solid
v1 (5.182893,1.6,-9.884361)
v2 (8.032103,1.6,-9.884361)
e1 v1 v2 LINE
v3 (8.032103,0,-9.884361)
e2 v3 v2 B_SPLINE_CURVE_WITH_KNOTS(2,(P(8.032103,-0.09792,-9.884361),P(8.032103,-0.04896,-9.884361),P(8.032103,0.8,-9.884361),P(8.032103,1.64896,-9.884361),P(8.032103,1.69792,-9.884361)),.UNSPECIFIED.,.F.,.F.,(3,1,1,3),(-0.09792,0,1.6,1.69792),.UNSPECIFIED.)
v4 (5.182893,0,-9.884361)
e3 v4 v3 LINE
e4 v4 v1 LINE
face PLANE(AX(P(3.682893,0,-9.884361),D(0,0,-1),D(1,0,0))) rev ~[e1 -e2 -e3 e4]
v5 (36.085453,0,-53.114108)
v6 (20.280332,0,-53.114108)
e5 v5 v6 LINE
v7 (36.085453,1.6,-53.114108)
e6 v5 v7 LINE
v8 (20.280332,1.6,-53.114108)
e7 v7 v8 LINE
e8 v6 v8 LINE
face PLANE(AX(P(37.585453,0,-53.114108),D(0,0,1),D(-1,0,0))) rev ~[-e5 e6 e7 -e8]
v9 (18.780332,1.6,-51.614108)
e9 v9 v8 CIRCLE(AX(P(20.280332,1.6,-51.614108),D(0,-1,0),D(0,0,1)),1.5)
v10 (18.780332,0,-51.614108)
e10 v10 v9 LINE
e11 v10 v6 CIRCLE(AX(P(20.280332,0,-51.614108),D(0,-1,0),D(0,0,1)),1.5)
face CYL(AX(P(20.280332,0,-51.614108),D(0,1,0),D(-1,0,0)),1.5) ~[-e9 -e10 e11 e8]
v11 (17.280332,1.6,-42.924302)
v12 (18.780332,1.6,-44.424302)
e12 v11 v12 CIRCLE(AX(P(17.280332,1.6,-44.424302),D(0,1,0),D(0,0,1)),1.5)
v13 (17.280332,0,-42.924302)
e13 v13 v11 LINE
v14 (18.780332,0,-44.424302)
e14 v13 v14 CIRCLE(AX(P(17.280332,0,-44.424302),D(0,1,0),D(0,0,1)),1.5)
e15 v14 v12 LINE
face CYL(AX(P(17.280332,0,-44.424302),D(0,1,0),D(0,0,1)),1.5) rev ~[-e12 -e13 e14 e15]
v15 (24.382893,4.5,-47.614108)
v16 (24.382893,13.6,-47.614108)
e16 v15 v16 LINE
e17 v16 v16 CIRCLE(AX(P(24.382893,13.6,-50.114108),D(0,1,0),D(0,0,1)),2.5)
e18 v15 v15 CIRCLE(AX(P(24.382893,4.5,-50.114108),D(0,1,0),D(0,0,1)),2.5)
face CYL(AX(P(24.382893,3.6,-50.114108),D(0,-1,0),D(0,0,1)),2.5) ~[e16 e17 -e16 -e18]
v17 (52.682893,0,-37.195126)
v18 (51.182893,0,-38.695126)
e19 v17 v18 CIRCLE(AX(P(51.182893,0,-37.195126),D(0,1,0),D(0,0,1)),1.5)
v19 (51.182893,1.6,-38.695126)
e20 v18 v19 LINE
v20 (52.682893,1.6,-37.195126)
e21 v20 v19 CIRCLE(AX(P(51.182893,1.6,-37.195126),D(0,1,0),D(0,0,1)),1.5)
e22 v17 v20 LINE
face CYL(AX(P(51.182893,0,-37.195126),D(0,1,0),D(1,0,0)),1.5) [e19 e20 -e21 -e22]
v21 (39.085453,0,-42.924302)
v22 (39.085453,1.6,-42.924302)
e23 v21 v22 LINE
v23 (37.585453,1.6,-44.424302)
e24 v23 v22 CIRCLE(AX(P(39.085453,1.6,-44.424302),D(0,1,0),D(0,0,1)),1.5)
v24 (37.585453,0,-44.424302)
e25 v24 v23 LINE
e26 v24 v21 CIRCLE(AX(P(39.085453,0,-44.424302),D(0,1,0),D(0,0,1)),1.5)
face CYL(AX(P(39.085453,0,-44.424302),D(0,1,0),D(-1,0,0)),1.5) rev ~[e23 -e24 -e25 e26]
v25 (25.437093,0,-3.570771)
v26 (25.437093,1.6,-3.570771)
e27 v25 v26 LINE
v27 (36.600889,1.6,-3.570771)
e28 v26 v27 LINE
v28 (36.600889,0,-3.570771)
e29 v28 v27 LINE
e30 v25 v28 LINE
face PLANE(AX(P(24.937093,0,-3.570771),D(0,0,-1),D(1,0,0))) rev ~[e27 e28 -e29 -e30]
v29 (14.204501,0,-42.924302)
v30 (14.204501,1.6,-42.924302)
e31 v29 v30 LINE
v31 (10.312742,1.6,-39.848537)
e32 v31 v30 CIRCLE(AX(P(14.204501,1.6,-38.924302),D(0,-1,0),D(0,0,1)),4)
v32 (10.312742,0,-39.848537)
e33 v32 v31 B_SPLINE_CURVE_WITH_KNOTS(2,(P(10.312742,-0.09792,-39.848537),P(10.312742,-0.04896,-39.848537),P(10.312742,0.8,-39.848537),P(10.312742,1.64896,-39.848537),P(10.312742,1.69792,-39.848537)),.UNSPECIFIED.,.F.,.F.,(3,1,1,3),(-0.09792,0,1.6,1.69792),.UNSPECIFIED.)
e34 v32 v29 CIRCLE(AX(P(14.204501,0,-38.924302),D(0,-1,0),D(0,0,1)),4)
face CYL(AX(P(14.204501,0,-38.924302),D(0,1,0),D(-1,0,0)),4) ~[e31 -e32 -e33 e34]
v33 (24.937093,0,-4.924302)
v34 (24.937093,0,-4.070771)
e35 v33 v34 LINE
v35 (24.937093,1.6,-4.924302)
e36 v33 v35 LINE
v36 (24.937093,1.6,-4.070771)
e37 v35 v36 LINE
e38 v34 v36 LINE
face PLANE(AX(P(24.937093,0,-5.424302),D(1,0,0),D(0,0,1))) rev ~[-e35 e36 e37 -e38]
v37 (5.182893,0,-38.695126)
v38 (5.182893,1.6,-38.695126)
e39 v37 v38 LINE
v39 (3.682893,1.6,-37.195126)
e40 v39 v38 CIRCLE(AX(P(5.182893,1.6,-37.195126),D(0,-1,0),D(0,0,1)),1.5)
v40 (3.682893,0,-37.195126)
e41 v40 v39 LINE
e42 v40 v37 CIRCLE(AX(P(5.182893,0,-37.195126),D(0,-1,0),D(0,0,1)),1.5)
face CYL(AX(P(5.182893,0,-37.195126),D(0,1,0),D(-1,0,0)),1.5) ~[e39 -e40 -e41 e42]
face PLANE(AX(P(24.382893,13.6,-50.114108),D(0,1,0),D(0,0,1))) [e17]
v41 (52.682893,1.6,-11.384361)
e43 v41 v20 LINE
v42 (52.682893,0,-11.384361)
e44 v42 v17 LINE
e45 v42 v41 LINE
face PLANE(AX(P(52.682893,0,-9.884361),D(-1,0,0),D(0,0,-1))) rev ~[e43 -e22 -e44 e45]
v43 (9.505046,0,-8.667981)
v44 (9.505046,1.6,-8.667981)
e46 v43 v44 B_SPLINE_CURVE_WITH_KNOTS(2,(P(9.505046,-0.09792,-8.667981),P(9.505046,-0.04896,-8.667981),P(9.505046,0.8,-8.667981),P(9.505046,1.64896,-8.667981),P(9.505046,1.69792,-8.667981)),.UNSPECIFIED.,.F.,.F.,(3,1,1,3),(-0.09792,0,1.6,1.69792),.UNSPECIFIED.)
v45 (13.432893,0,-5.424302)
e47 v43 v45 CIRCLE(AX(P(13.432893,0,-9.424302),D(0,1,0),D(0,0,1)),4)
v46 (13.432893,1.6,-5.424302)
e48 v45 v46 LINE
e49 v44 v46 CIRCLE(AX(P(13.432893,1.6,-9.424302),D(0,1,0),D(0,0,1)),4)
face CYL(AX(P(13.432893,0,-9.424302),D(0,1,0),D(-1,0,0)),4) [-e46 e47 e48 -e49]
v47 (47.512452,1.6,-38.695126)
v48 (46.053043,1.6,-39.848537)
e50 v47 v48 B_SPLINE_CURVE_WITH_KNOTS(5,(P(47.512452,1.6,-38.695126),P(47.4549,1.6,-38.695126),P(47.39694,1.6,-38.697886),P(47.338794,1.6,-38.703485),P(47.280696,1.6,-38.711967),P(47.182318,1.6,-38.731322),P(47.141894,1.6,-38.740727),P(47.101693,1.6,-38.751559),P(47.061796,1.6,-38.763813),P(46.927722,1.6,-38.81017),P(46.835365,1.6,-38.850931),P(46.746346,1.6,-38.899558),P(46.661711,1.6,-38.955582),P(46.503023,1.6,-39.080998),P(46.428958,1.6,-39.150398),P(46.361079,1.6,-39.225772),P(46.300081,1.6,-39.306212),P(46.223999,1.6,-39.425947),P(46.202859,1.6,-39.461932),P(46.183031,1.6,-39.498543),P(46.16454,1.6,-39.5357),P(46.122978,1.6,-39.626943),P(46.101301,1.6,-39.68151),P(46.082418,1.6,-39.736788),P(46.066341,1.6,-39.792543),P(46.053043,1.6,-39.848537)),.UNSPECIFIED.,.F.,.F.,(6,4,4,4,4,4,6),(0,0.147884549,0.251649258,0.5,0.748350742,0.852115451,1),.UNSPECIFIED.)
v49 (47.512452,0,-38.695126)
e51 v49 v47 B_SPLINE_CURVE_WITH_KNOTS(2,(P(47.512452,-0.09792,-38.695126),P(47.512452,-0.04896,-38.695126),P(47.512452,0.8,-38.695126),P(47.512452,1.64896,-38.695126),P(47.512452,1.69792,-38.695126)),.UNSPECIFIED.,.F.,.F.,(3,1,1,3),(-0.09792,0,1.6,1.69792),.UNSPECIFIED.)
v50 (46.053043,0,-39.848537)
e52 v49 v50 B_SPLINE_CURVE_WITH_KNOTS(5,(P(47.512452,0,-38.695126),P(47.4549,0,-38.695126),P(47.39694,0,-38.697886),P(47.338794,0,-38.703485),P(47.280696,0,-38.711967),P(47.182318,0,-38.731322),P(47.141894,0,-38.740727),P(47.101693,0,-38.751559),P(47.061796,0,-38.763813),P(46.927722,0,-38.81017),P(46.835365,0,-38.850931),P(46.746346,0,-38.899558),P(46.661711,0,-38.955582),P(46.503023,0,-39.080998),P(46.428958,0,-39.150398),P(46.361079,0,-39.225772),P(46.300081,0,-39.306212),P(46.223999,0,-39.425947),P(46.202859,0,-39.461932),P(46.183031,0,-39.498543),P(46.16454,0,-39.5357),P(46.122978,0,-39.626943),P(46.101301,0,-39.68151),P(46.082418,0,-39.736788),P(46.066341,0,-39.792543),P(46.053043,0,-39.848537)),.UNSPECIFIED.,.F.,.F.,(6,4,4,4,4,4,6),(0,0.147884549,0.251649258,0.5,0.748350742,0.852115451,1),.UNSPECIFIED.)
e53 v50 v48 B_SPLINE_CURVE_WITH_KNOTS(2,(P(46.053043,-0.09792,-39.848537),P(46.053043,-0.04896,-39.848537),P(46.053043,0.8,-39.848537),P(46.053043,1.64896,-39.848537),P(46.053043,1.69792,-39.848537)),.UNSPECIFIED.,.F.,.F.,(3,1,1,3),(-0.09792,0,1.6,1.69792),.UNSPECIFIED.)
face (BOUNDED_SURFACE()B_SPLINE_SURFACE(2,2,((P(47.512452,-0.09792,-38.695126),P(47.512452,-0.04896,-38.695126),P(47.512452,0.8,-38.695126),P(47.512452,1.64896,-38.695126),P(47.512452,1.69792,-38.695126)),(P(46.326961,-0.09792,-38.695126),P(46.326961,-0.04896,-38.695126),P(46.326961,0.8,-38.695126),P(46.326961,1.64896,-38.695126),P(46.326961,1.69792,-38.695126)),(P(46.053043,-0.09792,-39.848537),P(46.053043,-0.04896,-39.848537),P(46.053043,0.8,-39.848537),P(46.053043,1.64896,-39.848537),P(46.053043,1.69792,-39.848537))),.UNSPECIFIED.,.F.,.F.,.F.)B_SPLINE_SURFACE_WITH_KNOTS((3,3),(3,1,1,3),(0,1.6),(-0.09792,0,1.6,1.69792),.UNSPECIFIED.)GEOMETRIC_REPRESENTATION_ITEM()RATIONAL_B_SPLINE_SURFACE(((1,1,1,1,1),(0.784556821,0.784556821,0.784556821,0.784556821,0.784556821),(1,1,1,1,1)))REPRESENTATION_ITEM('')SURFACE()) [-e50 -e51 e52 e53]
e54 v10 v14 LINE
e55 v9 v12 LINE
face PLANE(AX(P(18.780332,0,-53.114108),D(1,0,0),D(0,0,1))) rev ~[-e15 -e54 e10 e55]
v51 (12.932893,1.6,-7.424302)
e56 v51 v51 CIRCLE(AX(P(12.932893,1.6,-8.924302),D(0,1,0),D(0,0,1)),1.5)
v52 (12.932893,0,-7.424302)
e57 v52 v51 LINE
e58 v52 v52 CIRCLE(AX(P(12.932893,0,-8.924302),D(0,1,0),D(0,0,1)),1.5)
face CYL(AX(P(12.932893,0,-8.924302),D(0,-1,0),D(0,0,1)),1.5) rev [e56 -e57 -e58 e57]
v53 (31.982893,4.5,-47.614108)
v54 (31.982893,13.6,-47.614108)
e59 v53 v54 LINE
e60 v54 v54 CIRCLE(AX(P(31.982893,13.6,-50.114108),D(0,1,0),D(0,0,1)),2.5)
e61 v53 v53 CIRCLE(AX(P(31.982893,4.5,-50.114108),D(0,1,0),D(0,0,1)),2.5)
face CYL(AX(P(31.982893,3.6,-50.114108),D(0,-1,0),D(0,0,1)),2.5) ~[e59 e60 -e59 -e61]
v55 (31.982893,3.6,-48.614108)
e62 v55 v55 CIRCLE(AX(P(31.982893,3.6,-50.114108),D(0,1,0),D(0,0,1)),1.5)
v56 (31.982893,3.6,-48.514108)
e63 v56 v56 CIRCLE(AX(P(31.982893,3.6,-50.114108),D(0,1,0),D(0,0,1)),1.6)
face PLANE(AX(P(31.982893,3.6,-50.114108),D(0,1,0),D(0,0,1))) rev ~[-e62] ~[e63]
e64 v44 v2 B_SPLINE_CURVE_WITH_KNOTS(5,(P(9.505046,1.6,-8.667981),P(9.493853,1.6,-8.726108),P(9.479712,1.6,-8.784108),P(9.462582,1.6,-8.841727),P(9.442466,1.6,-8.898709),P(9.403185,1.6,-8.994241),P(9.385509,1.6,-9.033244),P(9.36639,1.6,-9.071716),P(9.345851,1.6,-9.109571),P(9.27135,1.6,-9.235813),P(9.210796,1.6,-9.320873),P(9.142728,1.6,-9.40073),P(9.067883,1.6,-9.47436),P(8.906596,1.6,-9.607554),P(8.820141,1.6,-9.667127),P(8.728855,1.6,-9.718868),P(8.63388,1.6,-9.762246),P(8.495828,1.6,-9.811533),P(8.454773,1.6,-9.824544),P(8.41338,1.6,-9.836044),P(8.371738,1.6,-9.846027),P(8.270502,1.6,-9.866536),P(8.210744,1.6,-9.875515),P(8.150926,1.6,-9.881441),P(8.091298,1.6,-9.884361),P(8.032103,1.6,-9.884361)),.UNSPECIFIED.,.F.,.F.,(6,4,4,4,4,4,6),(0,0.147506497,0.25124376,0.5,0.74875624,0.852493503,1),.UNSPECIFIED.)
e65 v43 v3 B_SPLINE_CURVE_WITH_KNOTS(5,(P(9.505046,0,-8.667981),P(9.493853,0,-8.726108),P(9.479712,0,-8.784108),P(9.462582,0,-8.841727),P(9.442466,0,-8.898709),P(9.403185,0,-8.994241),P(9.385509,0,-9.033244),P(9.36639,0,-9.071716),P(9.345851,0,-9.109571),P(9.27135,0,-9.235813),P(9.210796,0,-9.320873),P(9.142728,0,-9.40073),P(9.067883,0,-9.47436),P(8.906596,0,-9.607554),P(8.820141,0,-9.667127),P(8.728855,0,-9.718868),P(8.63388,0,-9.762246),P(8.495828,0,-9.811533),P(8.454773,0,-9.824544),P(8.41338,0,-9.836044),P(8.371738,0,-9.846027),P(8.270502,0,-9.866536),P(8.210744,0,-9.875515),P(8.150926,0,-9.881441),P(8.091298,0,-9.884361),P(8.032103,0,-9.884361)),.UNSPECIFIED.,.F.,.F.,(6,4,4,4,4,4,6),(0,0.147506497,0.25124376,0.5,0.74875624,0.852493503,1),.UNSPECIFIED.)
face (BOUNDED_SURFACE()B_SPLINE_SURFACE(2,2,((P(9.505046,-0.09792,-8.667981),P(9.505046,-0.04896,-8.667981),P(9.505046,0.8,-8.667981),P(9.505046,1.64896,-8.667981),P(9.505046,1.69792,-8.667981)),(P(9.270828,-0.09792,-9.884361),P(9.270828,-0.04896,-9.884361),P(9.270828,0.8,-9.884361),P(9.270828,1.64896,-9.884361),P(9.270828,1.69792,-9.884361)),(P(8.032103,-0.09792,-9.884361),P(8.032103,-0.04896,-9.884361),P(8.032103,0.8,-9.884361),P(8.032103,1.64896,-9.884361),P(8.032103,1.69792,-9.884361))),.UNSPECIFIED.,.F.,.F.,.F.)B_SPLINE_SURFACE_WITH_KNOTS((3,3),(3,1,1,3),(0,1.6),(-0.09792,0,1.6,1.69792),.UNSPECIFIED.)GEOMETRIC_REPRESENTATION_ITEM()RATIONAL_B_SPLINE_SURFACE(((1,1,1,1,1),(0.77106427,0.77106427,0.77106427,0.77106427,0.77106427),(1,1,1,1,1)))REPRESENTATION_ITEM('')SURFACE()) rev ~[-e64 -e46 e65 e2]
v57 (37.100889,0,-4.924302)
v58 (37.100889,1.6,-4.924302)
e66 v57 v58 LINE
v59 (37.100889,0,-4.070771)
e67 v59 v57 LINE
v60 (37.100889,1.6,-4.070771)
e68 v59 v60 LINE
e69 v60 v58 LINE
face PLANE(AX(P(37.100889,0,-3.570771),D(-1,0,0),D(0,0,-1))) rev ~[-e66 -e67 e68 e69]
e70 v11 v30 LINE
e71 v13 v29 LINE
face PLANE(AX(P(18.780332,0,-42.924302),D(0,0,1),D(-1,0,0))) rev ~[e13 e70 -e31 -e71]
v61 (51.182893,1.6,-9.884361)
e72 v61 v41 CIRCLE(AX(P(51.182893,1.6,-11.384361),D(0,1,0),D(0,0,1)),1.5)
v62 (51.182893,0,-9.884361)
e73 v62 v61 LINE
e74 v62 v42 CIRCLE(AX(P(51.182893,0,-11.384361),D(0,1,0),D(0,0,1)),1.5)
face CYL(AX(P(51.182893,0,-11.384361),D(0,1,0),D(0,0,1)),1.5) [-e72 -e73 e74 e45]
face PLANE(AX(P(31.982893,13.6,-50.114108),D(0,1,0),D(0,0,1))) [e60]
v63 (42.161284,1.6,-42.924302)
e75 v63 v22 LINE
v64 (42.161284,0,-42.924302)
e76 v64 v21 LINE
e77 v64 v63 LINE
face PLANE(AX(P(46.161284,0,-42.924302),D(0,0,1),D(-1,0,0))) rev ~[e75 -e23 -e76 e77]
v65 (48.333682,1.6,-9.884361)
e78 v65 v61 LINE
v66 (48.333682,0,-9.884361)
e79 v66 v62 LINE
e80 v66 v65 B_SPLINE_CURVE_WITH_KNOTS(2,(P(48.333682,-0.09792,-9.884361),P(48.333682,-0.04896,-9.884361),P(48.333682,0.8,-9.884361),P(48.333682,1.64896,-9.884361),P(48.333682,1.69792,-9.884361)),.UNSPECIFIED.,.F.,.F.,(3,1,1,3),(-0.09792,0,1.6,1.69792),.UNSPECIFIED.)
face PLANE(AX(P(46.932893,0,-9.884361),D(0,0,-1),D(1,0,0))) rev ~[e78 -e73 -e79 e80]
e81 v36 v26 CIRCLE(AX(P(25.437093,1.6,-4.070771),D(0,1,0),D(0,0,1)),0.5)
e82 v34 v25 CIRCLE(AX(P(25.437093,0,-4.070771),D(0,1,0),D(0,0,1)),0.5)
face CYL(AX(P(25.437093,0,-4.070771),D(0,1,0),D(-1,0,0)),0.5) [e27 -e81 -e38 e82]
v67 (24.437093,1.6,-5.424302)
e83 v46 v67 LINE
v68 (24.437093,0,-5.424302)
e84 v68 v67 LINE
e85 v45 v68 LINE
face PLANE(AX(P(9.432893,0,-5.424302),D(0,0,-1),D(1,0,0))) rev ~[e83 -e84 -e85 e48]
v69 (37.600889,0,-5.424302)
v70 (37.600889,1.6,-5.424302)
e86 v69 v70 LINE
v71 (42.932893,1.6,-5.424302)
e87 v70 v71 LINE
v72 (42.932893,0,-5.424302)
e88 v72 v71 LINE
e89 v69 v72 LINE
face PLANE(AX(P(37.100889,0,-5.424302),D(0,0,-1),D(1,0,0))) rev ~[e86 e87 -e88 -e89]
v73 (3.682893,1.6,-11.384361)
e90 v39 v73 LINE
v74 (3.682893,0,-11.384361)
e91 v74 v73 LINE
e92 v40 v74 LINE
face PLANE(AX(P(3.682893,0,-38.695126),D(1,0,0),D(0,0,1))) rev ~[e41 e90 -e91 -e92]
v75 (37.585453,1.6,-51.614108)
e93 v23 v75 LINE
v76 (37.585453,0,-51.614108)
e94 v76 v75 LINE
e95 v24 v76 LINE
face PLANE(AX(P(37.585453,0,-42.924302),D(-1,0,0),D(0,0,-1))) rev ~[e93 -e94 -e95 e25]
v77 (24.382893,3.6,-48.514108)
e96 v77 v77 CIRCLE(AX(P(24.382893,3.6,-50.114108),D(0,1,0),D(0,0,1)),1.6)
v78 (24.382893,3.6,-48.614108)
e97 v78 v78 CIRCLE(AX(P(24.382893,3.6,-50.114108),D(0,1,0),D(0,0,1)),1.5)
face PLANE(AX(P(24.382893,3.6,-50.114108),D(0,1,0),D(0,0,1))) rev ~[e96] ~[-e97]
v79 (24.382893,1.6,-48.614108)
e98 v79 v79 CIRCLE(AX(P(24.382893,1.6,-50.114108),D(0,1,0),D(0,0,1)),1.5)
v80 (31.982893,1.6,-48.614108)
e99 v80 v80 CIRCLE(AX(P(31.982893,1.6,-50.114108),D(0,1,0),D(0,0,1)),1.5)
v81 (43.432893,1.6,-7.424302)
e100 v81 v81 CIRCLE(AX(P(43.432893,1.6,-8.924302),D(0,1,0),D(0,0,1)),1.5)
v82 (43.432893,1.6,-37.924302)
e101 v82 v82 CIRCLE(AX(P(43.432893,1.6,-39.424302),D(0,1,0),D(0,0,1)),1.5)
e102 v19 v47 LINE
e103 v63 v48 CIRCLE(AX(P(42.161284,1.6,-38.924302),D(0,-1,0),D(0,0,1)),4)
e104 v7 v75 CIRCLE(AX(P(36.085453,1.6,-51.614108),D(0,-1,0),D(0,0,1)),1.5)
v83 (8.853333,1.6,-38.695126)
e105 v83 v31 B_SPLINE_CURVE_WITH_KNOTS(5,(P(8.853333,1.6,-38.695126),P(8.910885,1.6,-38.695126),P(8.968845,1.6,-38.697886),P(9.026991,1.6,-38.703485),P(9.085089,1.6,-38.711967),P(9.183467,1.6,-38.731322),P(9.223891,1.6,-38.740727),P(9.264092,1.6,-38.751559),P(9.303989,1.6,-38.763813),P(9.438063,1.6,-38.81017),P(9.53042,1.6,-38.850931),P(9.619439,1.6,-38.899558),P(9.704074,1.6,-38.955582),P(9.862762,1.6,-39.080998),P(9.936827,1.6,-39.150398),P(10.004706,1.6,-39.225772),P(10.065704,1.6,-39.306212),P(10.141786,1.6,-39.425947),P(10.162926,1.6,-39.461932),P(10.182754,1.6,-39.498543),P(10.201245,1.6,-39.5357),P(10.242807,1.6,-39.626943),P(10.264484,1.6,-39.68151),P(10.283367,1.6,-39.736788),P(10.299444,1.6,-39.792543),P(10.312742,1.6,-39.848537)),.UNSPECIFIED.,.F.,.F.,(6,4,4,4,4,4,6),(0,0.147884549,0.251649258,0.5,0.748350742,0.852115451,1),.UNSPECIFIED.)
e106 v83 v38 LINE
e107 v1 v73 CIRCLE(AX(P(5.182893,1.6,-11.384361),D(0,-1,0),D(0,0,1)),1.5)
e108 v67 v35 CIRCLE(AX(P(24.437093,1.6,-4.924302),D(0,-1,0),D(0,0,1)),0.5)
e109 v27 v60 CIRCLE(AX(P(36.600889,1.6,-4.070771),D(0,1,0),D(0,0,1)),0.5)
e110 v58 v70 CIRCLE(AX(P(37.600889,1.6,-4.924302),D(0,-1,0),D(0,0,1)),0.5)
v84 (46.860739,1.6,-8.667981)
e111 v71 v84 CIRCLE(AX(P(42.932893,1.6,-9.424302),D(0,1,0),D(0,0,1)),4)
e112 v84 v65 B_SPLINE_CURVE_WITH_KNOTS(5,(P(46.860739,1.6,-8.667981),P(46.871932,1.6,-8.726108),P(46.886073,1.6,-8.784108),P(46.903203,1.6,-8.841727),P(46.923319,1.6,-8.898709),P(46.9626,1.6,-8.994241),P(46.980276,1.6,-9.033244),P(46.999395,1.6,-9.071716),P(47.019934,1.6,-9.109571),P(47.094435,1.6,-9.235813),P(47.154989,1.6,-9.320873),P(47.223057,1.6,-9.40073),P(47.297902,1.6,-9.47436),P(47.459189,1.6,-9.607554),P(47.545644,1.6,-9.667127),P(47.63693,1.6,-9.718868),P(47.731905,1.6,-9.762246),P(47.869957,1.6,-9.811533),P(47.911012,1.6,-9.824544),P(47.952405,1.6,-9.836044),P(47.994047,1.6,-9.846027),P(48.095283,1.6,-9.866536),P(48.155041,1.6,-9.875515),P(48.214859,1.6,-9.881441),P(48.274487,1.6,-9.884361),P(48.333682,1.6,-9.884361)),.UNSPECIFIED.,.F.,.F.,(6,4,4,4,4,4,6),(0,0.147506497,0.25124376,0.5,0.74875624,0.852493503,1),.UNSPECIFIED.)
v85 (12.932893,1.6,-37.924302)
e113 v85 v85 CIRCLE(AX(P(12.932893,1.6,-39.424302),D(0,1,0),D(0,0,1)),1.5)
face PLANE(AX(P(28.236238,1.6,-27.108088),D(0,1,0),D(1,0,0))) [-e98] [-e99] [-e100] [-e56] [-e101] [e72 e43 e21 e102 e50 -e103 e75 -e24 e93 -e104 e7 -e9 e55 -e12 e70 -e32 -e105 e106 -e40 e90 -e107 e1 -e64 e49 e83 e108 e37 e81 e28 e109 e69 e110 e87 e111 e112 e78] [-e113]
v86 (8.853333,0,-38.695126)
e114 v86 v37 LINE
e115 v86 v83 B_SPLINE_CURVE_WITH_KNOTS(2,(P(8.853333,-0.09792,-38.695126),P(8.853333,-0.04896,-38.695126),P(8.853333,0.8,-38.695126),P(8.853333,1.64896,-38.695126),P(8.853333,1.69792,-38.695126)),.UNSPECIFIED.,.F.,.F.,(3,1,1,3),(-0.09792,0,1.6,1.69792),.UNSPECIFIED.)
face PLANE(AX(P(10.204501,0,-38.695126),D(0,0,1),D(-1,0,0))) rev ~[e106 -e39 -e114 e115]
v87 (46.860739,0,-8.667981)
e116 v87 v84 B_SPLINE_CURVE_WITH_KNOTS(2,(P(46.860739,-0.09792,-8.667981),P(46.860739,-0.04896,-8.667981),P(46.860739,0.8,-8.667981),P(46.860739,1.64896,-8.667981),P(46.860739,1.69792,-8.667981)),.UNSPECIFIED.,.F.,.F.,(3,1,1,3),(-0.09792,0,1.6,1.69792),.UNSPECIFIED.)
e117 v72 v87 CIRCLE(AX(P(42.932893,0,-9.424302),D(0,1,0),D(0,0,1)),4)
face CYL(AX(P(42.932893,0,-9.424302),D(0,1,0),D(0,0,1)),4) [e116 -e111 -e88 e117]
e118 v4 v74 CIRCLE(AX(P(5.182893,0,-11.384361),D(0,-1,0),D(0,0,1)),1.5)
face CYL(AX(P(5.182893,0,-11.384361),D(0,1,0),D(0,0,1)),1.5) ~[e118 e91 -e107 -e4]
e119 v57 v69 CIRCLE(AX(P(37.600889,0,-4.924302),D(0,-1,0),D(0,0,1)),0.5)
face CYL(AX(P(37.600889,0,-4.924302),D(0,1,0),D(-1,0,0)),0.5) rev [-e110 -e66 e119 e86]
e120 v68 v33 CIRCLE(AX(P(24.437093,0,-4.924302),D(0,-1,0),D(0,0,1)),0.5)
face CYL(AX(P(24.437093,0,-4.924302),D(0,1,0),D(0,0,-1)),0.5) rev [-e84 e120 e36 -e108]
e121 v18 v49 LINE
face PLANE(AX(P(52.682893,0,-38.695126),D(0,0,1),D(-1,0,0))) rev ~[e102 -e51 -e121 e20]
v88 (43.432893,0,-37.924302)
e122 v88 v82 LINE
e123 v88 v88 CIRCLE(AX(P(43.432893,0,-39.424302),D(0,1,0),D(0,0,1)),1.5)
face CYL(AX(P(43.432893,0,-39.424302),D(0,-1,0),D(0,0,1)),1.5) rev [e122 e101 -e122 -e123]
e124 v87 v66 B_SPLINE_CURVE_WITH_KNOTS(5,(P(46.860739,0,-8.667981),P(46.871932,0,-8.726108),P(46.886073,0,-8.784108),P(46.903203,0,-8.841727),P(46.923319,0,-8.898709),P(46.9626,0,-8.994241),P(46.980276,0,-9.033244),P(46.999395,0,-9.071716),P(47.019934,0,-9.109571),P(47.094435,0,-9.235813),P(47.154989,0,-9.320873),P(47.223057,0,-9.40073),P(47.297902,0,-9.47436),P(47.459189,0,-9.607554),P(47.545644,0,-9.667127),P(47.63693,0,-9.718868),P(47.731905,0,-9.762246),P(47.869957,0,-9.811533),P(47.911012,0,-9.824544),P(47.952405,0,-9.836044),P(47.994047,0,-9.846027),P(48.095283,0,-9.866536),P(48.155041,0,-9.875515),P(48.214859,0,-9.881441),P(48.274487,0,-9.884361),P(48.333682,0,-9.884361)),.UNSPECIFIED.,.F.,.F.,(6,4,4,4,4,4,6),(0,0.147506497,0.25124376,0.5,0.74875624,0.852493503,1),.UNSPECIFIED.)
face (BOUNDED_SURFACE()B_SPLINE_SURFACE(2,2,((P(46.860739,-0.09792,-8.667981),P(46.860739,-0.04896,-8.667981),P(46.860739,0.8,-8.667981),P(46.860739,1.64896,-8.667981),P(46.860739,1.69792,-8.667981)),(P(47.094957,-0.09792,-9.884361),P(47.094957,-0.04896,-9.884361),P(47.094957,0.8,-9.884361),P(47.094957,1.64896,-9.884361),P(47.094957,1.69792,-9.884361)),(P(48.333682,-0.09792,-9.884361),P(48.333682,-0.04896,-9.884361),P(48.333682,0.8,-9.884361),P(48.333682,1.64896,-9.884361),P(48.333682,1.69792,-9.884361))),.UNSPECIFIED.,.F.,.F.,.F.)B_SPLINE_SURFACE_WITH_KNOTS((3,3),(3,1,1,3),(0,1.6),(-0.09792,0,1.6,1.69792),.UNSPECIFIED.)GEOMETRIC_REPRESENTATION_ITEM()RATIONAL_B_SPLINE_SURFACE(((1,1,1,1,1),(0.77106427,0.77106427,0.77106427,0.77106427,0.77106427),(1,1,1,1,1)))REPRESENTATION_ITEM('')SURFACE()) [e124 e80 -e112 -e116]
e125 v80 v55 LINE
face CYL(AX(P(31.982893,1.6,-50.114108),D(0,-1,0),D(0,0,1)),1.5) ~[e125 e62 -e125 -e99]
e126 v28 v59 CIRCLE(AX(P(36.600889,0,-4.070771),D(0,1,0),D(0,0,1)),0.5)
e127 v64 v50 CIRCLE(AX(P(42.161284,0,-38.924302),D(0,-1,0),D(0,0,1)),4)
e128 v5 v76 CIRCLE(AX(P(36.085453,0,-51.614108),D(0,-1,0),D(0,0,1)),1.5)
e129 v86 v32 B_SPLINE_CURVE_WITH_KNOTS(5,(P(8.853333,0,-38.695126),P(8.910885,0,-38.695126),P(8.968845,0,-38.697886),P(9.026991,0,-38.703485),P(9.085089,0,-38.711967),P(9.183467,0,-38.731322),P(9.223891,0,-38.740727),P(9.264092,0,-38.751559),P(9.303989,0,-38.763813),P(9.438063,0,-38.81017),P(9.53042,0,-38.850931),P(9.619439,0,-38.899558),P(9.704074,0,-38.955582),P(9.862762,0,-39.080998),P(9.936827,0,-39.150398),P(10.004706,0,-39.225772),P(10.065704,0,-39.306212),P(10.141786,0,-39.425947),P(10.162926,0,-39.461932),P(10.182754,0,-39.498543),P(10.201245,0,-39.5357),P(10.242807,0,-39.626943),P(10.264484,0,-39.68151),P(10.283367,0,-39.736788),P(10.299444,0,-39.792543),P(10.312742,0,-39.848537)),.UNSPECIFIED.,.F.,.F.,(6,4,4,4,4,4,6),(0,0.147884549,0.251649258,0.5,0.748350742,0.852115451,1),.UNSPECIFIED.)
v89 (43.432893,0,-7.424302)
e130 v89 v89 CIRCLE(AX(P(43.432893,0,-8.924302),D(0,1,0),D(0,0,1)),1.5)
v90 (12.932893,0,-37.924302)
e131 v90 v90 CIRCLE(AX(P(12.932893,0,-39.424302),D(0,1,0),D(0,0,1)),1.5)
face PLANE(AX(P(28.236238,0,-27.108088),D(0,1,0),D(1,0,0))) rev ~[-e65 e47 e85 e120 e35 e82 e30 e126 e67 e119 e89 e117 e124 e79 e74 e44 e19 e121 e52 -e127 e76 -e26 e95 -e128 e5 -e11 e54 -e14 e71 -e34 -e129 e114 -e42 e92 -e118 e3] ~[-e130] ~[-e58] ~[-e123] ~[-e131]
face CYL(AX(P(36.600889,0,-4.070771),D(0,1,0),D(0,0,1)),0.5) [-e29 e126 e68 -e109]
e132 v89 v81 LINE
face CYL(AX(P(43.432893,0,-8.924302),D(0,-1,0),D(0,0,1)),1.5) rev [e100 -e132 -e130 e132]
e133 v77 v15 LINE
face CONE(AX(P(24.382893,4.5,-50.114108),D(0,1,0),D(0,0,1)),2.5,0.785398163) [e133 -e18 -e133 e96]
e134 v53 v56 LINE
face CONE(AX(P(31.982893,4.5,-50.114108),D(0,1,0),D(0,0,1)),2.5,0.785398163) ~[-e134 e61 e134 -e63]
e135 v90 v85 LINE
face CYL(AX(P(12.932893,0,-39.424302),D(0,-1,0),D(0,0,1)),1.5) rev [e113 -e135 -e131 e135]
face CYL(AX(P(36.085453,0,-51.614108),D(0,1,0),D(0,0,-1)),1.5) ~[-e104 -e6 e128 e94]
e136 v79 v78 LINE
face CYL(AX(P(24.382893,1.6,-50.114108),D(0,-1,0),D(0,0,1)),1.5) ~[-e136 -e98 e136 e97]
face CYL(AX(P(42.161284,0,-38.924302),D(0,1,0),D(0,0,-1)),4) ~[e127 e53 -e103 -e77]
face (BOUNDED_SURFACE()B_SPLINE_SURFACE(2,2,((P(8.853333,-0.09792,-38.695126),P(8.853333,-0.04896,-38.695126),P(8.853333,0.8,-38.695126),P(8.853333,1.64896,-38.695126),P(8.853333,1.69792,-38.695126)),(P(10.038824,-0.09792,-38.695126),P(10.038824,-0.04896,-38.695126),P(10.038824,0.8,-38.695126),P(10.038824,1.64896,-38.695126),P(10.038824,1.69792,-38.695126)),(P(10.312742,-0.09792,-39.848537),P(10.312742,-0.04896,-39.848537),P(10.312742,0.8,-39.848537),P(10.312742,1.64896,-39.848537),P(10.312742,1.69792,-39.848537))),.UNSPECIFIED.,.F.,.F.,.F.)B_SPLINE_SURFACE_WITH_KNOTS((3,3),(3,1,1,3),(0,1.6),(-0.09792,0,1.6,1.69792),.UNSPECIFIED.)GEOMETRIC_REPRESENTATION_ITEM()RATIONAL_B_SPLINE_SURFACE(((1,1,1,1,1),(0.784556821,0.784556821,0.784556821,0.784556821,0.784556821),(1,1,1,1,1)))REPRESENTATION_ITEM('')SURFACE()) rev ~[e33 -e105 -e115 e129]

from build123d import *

# Parameters (mm, degrees)
SKETCH1_R           = 1.5
BOSS_EXTRUDE1_DEPTH = 1.6
FILLET1_R           = 4
FILLET2_R           = 1.5
FILLET3_R           = 0.5
SKETCH2_R           = 1.25
BOSS_EXTRUDE2_DEPTH = 1.5
SKETCH3_R           = 1.5
BOSS_EXTRUDE3_DEPTH = 2
SKETCH4_R           = 2.5
BOSS_EXTRUDE4_DEPTH = 10
CHAMFER1_SIZE       = 0.9


with BuildPart() as part:
    # Sketch1 → Boss-Extrude1 (new body)
    with BuildSketch(Plane(origin=(0, 0, 0), x_dir=(1, 0, 0), z_dir=(0, 1, 0))):
        Polygon((3.682892501, 9.884360961), (9.432892501, 9.884360961), (9.432892501, 5.424302162), (24.937092609, 5.424302162), (24.937092609, 3.570771232), (37.100889333, 3.570771232), (37.100889333, 5.424302162), (46.932892501, 5.424302162), (46.932892501, 9.884360961), (52.682892501, 9.884360961), (52.682892501, 38.695125613), (46.161283606, 38.695125613), (46.161283606, 42.924302162), (37.585453381, 42.924302162), (37.585453381, 53.114107514), (18.780331621, 53.114107514), (18.780331621, 42.924302162), (10.204501396, 42.924302162), (10.204501396, 38.695125613), (3.682892501, 38.695125613), align=None)
        with Locations(Location((12.932892501, 8.924302162, 0), (0, 0, 270))):
            Circle(SKETCH1_R, mode=Mode.SUBTRACT)
        with Locations(Location((43.432892501, 8.924302162, 0), (0, 0, 270))):
            Circle(SKETCH1_R, mode=Mode.SUBTRACT)
        with Locations(Location((43.432892501, 39.424302162, 0), (0, 0, 270))):
            Circle(SKETCH1_R, mode=Mode.SUBTRACT)
        with Locations(Location((12.932892501, 39.424302162, 0), (0, 0, 270))):
            Circle(SKETCH1_R, mode=Mode.SUBTRACT)
    extrude(amount=BOSS_EXTRUDE1_DEPTH)

    # Fillet1
    fillet1_edges = [part.edges().sort_by_distance(p)[0] for p in [
        (46.161283606, 0.8, -42.924302162),
        (46.932892501, 0.8, -5.424302162),
        (9.432892501, 0.8, -5.424302162),
        (10.204501396, 0.8, -42.924302162),
    ]]
    fillet(fillet1_edges, radius=FILLET1_R)

    # Fillet2
    fillet2_edges = [part.edges().sort_by_distance(p)[0] for p in [
        (52.682892501, 0.8, -9.884360961),
        (52.682892501, 0.8, -38.695125613),
        (37.585453381, 0.8, -42.924302162),
        (37.585453381, 0.8, -53.114107514),
        (18.780331621, 0.8, -53.114107514),
        (18.780331621, 0.8, -42.924302162),
        (3.682892501, 0.8, -38.695125613),
        (46.932892501, 0.8, -9.884360961),
        (9.432892501, 0.8, -9.884360961),
        (46.161283606, 0.8, -38.695125613),
        (10.204501396, 0.8, -38.695125613),
        (3.682892501, 0.8, -9.884360961),
    ]]
    fillet(fillet2_edges, radius=FILLET2_R)

    # Fillet3
    fillet3_edges = [part.edges().sort_by_distance(p)[0] for p in [
        (37.100889333, 0.8, -5.424302162),
        (37.100889333, 0.8, -3.570771232),
        (24.937092609, 0.8, -3.570771232),
        (24.937092609, 0.8, -5.424302162),
    ]]
    fillet(fillet3_edges, radius=FILLET3_R)

    # Sketch2 → Boss-Extrude2 (add)
    with BuildSketch(Plane(origin=(0, 1.6, 0), x_dir=(1, 0, 0), z_dir=(0, 1, 0))):
        with Locations(Location((31.982892501, 50.114107514, 0), (0, 0, 270))):
            Circle(SKETCH2_R)
        with Locations(Location((24.382892501, 50.114107514, 0), (0, 0, 90))):
            Circle(SKETCH2_R)
    extrude(amount=BOSS_EXTRUDE2_DEPTH)

    # Sketch3 → Boss-Extrude3 (add)
    with BuildSketch(Plane(origin=(0, 1.6, 0), x_dir=(1, 0, 0), z_dir=(0, 1, 0))):
        with Locations(Location((31.982892501, 50.114107514, 0), (0, 0, 270))):
            Circle(SKETCH3_R)
        with Locations(Location((24.382892501, 50.114107514, 0), (0, 0, 270))):
            Circle(SKETCH3_R)
    extrude(amount=BOSS_EXTRUDE3_DEPTH)

    # Sketch4 → Boss-Extrude4 (add)
    with BuildSketch(Plane(origin=(0, 3.6, 0), x_dir=(1, 0, 0), z_dir=(0, 1, 0))):
        with Locations(Location((31.982892501, 50.114107514, 0), (0, 0, 270))):
            Circle(SKETCH4_R)
        with Locations(Location((24.382892501, 50.114107514, 0), (0, 0, 270))):
            Circle(SKETCH4_R)
    extrude(amount=BOSS_EXTRUDE4_DEPTH)

    # Chamfer1
    chamfer1_edges = [part.edges().sort_by_distance(p)[0] for p in [
        (31.982892501, 3.6, -52.614107514),
        (24.382892501, 3.6, -52.614107514),
    ]]
    chamfer(chamfer1_edges, length=CHAMFER1_SIZE)


solid = part.part
